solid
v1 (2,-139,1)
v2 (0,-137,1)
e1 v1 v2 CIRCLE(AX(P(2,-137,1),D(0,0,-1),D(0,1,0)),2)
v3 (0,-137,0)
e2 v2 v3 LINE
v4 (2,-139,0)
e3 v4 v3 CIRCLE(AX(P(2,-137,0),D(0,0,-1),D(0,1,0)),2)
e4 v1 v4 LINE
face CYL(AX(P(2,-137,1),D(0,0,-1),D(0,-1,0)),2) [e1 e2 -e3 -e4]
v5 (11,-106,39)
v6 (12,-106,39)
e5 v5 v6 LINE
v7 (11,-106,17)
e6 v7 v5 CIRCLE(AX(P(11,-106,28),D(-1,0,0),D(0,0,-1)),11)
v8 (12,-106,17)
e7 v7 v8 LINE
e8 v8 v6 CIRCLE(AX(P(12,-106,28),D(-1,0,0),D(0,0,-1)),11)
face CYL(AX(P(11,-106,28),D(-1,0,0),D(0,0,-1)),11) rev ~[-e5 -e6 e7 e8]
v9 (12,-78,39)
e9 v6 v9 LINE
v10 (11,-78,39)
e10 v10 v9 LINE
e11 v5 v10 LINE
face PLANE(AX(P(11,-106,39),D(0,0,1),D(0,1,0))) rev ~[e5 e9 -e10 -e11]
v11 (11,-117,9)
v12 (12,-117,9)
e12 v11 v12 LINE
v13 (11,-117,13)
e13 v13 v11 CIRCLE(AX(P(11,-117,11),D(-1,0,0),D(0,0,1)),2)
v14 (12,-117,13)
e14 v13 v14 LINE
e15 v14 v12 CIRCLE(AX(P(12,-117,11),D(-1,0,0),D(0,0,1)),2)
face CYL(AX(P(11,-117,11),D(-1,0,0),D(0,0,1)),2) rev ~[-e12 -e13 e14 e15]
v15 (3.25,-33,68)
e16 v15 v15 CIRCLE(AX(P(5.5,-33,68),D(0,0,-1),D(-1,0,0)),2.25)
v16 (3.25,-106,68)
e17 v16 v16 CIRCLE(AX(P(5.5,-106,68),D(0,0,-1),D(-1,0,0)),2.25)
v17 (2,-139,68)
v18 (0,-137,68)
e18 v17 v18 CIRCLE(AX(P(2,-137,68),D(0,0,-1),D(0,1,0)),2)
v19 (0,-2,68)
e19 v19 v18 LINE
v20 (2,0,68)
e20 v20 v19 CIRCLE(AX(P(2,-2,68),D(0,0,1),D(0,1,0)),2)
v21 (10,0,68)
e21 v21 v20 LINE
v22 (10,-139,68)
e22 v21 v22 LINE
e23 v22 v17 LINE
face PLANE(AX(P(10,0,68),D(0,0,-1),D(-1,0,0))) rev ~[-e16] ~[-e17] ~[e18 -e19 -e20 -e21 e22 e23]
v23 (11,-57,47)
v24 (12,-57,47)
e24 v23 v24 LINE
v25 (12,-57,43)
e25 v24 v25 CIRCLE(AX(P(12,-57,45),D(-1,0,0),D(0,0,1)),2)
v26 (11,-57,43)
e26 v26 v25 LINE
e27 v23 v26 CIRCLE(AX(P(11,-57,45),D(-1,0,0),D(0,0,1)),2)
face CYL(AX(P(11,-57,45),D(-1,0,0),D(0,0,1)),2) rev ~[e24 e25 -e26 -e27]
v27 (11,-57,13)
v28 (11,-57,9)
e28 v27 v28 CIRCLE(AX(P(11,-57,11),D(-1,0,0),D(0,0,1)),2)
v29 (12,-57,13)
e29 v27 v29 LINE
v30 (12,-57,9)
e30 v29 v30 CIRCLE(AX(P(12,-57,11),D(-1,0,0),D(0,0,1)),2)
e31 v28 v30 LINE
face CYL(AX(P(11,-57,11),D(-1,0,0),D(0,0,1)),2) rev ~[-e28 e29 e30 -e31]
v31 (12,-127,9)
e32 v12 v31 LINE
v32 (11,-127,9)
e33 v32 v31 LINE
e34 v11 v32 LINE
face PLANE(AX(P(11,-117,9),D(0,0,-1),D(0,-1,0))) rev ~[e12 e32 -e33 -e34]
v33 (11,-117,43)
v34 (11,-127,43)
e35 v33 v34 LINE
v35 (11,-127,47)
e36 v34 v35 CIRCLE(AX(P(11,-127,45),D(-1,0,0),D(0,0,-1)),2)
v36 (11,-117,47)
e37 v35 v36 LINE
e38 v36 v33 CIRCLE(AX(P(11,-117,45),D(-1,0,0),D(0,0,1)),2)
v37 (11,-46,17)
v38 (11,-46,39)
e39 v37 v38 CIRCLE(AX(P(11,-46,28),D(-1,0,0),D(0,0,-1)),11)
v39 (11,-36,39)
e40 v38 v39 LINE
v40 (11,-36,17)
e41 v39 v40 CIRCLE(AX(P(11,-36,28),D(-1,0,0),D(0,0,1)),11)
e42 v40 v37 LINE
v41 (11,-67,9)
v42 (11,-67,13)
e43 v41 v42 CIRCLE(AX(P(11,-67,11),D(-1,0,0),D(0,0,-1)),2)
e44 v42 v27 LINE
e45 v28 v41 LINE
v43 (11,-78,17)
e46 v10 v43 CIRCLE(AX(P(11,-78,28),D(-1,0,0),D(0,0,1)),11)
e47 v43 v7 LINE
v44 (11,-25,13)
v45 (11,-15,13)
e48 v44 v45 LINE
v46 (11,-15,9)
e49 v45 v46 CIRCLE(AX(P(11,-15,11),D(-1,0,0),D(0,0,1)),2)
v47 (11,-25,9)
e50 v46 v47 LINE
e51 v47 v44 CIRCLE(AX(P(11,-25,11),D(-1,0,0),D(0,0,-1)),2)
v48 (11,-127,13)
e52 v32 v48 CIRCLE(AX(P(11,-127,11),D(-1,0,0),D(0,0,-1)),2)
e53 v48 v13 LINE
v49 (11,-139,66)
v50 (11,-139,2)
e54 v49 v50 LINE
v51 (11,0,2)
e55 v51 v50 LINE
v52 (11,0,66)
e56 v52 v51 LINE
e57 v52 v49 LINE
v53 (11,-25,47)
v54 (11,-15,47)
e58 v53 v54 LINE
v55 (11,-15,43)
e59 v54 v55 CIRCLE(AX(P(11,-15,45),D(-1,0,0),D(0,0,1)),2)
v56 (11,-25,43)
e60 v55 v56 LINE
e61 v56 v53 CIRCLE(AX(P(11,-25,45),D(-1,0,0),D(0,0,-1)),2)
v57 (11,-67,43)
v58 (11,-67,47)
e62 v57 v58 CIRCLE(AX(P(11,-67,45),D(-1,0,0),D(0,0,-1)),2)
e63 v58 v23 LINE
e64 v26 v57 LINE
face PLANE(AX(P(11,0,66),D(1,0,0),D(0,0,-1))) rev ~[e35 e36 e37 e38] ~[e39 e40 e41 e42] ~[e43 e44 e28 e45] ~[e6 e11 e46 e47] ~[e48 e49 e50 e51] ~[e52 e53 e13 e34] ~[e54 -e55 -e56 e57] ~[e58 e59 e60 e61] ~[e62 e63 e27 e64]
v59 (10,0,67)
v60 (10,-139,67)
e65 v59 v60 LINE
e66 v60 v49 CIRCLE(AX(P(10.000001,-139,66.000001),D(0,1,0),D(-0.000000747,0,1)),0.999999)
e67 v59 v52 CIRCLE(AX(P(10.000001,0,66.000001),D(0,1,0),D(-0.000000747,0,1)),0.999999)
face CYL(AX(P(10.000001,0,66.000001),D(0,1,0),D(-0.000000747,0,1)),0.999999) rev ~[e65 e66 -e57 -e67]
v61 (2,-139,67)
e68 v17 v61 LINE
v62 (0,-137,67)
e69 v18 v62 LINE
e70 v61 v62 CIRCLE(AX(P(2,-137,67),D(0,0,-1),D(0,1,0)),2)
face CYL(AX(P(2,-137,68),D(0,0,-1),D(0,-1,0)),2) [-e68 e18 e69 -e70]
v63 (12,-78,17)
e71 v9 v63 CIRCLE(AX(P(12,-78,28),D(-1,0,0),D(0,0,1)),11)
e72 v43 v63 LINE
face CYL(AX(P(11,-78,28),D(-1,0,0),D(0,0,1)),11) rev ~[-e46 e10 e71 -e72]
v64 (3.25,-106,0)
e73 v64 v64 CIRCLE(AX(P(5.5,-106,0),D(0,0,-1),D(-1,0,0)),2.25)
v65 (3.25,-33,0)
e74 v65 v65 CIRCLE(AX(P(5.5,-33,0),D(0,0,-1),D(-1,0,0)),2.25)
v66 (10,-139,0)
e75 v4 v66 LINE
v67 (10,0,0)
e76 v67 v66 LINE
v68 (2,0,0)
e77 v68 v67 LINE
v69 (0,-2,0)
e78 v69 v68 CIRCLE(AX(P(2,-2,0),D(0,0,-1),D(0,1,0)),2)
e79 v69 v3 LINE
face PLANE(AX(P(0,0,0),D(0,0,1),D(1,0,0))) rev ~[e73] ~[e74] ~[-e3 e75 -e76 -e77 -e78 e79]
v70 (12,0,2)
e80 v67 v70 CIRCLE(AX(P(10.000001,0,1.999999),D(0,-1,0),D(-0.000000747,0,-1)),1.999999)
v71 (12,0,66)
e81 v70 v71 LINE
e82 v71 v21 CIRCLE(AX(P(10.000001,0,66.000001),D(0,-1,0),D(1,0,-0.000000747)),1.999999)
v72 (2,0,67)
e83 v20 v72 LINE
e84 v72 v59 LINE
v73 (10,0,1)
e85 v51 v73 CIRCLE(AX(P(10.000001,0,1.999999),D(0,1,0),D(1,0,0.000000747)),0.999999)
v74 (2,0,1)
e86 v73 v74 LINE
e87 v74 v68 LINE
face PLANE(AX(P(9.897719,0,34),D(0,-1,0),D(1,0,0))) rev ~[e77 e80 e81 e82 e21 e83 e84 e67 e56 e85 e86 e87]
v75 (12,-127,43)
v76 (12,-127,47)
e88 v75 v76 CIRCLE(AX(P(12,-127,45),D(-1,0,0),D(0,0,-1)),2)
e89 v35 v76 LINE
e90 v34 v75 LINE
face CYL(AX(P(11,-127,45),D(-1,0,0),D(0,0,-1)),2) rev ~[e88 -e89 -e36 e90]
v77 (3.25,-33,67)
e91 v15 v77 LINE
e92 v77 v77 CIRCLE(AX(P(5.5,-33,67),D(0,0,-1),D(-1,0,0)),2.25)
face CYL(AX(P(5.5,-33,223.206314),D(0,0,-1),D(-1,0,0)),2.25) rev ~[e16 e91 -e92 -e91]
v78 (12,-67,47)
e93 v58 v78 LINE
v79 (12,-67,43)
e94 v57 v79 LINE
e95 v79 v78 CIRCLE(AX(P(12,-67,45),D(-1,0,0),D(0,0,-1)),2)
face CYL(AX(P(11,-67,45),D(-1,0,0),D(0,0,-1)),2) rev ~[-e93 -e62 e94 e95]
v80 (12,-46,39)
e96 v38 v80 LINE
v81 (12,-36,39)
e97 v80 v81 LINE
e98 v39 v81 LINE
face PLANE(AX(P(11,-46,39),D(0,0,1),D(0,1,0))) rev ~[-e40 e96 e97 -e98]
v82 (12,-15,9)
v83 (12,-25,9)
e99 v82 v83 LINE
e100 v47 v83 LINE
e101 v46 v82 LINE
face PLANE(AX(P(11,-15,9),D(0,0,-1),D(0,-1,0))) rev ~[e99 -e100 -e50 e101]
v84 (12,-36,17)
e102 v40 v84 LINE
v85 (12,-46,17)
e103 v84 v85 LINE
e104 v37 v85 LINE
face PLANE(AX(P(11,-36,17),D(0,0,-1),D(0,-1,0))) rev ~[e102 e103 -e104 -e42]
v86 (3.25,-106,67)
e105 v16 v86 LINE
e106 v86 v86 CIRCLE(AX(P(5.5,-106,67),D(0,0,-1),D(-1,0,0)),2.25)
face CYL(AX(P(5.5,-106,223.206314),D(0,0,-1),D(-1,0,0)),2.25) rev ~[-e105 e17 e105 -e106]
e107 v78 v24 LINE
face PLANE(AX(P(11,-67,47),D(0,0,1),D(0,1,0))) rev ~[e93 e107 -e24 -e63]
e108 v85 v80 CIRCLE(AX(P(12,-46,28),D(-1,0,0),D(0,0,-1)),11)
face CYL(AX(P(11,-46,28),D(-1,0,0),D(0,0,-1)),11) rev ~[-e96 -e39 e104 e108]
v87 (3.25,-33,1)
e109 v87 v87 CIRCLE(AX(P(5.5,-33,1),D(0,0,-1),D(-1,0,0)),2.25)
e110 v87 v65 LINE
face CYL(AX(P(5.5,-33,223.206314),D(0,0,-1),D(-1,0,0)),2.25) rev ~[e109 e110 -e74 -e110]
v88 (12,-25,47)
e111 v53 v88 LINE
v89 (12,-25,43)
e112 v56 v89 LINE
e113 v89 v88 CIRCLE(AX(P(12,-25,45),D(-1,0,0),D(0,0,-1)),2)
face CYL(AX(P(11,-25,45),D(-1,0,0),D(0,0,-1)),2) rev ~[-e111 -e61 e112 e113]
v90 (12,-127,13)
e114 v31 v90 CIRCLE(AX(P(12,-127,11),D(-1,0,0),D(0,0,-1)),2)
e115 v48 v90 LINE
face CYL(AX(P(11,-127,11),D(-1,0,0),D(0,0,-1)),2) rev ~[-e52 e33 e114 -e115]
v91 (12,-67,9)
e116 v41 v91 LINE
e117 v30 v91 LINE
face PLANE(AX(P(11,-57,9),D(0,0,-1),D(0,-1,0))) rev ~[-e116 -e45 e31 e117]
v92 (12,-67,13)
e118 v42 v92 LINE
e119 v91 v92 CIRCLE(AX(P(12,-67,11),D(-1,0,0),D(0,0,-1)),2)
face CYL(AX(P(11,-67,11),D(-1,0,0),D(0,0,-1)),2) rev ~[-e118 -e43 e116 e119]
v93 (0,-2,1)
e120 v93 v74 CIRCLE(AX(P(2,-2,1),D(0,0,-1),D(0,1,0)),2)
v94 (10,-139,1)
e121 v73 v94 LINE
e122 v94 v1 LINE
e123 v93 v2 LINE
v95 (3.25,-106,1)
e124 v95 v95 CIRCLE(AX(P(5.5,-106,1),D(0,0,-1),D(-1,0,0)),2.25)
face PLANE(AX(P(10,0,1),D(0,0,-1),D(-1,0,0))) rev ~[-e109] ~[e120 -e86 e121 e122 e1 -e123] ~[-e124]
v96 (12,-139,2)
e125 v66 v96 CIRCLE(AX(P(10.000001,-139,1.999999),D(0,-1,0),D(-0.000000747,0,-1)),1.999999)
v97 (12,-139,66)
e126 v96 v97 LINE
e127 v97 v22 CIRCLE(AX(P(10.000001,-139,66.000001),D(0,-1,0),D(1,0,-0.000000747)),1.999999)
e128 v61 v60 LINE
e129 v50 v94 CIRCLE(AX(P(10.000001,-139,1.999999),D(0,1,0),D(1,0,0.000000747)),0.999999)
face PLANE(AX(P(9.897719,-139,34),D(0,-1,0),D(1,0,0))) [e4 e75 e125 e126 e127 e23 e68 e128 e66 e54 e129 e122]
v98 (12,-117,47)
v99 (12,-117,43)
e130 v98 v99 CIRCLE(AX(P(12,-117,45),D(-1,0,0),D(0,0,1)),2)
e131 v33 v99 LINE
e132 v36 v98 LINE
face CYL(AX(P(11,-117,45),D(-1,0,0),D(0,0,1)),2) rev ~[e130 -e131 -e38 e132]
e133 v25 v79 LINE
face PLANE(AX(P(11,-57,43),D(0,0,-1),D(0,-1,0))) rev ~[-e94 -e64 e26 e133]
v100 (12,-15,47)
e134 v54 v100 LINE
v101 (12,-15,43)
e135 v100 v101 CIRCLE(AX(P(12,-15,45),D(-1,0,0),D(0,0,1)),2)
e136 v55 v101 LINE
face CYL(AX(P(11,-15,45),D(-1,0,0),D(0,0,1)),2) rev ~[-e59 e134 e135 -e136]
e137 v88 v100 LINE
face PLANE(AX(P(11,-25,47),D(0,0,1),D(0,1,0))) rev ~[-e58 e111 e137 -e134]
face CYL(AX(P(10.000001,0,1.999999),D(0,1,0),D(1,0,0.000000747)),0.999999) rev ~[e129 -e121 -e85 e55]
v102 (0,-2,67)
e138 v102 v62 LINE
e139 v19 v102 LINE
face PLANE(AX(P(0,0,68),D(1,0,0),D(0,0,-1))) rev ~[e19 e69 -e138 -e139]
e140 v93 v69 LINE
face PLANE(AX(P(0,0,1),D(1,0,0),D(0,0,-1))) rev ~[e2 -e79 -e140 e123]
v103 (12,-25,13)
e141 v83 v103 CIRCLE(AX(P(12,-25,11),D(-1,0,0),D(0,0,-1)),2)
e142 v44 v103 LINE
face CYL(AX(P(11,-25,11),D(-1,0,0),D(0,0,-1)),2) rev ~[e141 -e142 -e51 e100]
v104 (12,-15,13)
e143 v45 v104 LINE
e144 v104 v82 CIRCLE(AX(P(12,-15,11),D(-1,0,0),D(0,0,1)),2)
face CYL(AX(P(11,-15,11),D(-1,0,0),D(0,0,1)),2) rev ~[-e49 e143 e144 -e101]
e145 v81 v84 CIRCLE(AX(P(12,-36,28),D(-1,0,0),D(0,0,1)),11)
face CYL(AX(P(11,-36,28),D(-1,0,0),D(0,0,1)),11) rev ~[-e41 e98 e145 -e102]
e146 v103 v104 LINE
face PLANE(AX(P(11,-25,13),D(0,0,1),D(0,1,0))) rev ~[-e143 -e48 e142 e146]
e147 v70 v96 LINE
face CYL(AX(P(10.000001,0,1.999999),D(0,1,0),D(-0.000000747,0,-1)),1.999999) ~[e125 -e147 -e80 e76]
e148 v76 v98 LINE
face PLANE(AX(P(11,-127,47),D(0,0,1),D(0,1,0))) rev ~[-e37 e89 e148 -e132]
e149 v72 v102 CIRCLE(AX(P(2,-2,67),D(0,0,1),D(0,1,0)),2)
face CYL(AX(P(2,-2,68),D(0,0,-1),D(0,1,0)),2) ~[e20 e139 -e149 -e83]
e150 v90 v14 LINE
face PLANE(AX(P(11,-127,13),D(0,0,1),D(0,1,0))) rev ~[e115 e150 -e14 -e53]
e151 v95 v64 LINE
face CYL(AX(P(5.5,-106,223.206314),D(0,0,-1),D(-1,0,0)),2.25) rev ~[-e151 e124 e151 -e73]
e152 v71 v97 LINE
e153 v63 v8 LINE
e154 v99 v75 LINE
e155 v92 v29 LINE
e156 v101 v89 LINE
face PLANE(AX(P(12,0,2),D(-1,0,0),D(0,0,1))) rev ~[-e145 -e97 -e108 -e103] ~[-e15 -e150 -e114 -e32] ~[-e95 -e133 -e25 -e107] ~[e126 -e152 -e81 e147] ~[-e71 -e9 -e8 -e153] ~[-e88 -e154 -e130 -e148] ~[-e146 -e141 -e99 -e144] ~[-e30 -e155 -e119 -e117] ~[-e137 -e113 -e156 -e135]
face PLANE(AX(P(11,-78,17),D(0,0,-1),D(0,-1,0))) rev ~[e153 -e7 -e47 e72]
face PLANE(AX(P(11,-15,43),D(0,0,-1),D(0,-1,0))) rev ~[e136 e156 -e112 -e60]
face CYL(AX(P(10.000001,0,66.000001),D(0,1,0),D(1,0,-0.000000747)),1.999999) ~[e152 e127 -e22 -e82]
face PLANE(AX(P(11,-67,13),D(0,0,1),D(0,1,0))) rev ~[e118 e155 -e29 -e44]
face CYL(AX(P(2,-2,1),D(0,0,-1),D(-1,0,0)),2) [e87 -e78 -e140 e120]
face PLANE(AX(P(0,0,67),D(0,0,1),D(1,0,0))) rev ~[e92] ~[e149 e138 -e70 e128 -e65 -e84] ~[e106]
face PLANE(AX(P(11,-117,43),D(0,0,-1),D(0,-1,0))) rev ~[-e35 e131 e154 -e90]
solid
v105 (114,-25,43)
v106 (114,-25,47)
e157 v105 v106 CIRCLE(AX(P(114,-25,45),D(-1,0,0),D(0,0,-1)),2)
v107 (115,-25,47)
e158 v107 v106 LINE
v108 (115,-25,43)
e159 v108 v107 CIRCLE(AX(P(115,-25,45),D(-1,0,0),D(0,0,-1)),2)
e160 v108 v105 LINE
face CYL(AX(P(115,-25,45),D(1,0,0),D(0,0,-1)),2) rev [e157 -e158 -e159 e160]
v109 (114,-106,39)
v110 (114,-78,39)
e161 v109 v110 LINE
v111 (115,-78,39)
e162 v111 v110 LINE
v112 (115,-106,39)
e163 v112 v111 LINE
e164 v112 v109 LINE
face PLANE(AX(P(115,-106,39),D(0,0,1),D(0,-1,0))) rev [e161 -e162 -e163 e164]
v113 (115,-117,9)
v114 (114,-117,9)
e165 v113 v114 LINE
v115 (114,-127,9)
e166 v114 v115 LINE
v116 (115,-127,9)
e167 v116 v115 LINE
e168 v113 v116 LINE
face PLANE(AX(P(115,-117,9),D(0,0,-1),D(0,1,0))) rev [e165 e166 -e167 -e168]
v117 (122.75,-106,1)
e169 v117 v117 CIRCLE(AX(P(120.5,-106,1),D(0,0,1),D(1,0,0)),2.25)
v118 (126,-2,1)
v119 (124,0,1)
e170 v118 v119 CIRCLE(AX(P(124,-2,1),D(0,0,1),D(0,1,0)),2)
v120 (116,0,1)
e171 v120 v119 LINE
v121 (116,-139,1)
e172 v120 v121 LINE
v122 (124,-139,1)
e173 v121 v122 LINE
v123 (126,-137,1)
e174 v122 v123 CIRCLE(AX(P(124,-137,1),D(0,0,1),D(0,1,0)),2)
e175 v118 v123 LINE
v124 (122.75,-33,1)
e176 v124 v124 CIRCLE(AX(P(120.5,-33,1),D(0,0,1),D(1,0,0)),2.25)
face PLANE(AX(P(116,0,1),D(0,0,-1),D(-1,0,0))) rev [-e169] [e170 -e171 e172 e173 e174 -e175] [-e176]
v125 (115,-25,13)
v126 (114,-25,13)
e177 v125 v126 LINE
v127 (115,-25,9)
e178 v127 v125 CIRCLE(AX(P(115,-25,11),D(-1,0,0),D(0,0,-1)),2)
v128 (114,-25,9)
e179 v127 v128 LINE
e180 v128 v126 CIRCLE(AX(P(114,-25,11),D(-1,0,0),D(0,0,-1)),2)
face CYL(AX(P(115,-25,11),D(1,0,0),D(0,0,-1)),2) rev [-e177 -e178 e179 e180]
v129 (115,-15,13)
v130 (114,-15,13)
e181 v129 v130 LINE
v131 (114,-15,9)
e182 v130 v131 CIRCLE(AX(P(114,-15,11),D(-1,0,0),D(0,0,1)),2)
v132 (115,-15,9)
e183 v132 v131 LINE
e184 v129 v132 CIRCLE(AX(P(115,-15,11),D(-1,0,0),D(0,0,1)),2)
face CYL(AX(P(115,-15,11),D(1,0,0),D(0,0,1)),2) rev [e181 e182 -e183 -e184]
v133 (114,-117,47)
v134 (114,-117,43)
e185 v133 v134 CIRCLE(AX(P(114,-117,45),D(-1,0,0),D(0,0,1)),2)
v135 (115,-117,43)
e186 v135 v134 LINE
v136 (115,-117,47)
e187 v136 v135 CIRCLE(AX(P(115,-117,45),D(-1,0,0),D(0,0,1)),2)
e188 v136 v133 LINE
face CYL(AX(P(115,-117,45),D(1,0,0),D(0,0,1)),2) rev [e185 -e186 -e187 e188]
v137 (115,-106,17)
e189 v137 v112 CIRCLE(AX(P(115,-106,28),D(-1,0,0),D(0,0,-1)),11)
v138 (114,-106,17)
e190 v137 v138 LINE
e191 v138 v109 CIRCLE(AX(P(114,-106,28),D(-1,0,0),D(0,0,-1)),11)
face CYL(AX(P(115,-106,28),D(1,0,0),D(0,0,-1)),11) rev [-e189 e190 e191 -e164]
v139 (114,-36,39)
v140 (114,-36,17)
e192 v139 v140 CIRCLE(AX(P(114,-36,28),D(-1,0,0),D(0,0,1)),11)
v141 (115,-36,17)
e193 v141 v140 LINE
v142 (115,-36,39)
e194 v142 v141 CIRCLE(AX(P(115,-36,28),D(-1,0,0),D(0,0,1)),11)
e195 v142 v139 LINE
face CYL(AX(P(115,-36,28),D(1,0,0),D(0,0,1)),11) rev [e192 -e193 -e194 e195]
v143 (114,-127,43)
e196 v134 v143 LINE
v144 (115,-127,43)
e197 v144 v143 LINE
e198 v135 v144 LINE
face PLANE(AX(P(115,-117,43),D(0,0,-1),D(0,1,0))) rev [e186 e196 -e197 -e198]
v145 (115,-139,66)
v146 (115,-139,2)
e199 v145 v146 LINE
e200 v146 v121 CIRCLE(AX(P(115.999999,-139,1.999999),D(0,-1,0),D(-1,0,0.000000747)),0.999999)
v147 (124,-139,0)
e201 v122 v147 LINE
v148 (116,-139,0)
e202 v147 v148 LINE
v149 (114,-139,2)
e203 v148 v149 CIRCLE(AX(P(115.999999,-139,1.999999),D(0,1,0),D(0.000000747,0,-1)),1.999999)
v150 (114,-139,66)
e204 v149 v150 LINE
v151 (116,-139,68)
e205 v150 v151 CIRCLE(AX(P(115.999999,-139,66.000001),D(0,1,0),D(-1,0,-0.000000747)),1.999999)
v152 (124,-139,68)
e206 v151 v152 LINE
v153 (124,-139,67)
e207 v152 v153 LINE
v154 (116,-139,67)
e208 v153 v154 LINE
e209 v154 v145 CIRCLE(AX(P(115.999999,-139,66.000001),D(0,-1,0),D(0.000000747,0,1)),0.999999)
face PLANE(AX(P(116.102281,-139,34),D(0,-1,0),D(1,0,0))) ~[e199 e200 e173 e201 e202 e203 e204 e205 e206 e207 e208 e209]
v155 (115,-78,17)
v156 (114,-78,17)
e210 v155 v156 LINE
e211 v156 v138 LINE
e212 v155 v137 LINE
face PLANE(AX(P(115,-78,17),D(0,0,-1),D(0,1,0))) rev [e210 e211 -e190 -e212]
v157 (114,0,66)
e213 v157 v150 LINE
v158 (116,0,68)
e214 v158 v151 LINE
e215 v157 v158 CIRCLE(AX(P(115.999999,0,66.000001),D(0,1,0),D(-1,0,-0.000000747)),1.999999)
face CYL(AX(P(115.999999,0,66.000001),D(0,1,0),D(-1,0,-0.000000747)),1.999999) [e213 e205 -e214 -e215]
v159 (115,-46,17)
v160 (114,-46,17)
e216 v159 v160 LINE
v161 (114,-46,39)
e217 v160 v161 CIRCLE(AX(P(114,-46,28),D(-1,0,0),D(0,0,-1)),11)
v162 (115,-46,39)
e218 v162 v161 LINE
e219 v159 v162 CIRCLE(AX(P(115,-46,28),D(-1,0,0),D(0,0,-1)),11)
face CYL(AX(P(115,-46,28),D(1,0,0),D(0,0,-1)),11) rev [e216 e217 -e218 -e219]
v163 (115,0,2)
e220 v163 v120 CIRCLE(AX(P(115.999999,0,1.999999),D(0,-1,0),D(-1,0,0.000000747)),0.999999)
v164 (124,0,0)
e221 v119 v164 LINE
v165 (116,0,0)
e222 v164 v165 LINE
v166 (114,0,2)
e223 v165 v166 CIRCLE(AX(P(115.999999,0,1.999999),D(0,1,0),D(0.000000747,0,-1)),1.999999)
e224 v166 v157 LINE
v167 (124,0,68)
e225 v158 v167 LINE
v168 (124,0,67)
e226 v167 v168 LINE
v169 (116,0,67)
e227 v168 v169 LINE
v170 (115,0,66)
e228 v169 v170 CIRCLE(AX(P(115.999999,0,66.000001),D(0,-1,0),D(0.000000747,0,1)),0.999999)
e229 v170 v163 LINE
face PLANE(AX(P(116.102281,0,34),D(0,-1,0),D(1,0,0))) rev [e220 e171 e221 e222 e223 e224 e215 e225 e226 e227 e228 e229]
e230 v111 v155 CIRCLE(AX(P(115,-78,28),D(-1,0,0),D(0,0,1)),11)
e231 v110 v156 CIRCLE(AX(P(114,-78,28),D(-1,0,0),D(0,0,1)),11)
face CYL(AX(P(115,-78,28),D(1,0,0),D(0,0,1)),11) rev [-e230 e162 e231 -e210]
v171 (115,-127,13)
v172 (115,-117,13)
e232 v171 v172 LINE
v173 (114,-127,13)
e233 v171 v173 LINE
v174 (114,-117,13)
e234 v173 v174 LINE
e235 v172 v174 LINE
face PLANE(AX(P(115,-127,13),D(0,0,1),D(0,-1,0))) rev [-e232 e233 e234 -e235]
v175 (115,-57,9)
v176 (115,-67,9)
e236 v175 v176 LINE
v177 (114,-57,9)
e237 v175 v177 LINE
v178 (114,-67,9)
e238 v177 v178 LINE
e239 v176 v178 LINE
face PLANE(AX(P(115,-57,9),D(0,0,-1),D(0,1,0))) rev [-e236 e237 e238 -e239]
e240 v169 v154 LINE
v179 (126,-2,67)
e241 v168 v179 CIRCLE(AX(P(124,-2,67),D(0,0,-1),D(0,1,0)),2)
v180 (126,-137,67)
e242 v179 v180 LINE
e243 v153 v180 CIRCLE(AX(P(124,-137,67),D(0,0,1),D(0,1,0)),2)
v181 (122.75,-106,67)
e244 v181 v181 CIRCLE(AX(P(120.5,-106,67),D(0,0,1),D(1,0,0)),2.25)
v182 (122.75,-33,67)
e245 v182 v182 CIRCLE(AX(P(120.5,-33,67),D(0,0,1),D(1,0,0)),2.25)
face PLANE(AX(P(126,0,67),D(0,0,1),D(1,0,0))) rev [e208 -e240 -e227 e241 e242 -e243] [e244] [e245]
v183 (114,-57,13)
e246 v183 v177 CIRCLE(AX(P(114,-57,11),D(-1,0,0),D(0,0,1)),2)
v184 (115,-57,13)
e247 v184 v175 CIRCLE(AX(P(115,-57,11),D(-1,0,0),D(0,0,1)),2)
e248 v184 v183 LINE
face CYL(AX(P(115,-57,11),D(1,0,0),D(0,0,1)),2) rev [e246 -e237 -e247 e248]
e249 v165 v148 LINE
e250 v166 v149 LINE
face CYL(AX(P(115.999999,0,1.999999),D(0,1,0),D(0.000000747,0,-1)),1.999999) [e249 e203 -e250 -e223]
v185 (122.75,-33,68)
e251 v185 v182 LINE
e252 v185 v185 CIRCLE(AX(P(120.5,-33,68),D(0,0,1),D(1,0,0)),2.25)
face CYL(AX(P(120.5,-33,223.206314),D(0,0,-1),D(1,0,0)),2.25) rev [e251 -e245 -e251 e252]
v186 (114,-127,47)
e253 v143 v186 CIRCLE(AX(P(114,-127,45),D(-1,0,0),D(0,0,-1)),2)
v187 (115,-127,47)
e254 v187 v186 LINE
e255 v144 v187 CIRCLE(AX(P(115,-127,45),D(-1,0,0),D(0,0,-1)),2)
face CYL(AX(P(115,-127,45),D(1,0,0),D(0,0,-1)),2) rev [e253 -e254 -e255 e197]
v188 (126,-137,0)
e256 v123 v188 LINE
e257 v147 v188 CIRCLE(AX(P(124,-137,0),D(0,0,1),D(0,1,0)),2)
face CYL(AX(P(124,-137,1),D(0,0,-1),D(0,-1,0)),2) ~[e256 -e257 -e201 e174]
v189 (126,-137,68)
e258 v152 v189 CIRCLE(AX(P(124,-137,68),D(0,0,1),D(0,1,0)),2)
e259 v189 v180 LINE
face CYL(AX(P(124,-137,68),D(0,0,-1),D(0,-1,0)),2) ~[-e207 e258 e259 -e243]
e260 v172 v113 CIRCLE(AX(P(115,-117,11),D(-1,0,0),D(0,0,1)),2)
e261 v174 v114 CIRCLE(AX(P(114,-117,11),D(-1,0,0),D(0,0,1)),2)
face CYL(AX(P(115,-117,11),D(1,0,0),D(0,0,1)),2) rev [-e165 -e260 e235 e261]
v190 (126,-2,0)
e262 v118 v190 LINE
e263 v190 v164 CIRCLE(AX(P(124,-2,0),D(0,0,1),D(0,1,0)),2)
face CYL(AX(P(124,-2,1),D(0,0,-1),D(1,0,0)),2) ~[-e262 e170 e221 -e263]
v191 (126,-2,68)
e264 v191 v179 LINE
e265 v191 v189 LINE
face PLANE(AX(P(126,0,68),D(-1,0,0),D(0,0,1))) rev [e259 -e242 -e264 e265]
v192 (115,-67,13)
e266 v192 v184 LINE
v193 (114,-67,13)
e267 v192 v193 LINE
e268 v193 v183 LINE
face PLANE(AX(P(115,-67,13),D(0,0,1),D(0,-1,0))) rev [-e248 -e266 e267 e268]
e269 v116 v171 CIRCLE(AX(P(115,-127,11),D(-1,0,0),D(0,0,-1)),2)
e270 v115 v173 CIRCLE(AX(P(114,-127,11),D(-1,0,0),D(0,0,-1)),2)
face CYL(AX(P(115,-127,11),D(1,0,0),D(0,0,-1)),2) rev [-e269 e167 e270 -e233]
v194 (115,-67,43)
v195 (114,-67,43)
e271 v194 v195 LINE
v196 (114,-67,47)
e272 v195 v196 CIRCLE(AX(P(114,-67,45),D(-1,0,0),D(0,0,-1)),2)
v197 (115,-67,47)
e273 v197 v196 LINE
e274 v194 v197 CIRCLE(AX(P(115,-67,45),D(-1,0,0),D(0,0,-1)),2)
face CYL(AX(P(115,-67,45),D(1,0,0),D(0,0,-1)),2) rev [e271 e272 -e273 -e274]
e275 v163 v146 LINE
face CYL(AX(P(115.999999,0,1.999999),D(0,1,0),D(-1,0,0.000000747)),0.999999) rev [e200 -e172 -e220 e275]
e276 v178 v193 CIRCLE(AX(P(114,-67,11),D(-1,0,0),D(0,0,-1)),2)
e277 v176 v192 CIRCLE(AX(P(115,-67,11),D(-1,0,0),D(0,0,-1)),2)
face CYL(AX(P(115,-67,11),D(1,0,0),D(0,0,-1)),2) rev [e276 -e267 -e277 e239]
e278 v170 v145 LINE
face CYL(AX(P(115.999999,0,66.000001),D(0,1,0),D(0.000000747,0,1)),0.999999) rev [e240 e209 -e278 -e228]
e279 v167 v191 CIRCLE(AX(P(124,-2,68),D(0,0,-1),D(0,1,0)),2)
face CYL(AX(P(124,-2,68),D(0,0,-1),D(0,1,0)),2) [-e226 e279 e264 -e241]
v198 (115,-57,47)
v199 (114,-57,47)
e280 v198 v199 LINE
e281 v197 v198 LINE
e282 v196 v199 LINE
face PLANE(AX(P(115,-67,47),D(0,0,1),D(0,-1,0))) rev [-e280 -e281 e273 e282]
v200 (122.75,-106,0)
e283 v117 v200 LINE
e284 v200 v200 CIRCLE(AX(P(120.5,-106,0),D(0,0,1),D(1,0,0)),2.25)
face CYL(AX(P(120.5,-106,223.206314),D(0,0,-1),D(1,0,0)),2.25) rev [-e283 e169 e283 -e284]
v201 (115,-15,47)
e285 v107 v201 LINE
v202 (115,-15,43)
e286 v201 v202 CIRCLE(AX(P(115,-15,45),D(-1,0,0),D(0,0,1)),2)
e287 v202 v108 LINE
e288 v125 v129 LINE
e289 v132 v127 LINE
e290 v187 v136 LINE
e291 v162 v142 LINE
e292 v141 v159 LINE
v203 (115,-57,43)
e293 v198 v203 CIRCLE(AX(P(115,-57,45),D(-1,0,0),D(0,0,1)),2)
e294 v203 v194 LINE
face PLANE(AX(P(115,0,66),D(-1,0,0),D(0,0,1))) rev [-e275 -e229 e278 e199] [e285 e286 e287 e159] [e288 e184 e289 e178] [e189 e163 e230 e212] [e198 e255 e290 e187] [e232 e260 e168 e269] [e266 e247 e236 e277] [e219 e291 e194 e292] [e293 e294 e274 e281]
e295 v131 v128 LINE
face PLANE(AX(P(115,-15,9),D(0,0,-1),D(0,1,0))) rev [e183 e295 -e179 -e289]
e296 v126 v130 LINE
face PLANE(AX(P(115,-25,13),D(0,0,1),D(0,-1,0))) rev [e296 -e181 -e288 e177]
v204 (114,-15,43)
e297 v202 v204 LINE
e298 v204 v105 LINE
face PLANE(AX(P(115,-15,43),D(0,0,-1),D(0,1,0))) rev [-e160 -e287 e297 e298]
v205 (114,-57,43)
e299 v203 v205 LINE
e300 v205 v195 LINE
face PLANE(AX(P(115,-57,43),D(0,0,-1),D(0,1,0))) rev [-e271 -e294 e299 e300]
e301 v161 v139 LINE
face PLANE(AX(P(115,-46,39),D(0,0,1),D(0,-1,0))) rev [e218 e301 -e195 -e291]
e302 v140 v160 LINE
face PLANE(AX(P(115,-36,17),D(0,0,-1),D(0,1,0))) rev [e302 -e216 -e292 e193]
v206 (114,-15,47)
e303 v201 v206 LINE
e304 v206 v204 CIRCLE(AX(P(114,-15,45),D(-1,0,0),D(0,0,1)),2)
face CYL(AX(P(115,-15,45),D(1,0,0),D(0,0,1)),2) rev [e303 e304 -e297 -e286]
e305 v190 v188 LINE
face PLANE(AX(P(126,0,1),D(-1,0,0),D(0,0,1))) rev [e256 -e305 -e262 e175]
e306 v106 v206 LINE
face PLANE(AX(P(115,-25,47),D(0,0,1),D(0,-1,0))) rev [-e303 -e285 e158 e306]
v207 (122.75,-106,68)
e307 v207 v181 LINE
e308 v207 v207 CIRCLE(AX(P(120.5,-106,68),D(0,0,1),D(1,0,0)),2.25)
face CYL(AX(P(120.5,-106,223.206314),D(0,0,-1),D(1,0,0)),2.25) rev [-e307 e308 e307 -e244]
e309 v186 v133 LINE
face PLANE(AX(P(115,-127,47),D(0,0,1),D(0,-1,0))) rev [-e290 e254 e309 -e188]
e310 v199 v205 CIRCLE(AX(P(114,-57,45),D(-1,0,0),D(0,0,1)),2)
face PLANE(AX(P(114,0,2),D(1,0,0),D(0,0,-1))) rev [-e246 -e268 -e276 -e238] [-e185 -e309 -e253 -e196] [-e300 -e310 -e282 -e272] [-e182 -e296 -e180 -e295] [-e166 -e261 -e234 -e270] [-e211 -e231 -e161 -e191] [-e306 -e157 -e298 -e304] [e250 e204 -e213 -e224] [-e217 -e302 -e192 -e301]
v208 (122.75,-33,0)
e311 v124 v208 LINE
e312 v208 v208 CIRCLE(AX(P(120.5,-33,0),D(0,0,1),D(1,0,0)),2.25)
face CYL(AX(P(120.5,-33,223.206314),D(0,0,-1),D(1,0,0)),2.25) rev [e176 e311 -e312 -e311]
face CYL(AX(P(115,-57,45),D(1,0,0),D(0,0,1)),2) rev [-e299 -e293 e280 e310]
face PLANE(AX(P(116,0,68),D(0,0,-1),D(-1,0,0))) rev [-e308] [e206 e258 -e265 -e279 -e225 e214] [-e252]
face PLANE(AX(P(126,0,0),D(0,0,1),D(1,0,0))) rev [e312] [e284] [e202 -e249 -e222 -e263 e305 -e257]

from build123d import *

# Parameters (mm, degrees)
F1_DEPTH  = 139
F3_D      = 4.5
F5_DEPTH  = 25
F6_R      = 2
F7_R      = 2
F8_R      = 2
F9_R      = 2
F11_DEPTH = 25


with BuildPart() as f1:
    # F0 (on Front) → F1 (new body)
    with BuildSketch(Plane.XZ):
        with BuildLine():
            Line((0, 1), (0, 0))
            Line((0, 0), (10, 0))
            ThreePointArc((10, 0), (11.414214, 0.585786), (12, 2))
            Line((12, 2), (12, 66))
            ThreePointArc((12, 66), (11.414214, 67.414214), (10, 68))
            Line((10, 68), (0, 68))
            Line((0, 68), (0, 67))
            Line((0, 67), (10, 67))
            ThreePointArc((10, 67), (10.707107, 66.707107), (11, 66))
            Line((11, 66), (11, 2))
            ThreePointArc((11, 2), (10.707107, 1.292893), (10, 1))
            Line((10, 1), (0, 1))
        make_face()
    extrude(amount=F1_DEPTH)

    # F3 (through all)
    with Locations(Plane.XY.offset(68)):
        with Locations((5.5, -106), (5.5, -33)):
            Hole(F3_D / 2)

    # F4 (on face) → F5 (cut)
    with BuildSketch(Plane(origin=(11, 0, 0), x_dir=(0, -1, 0), z_dir=(-1, 0, 0))):
        with BuildLine():
            Line((25, 13), (15, 13))
            ThreePointArc((15, 13), (13, 11), (15, 9))
            Line((15, 9), (25, 9))
            ThreePointArc((25, 9), (27, 11), (25, 13))
        make_face()
        with BuildLine():
            Line((25, 47), (15, 47))
            ThreePointArc((15, 47), (13, 45), (15, 43))
            Line((15, 43), (25, 43))
            ThreePointArc((25, 43), (27, 45), (25, 47))
        make_face()
        with BuildLine():
            Line((67, 13), (57, 13))
            ThreePointArc((57, 13), (55, 11), (57, 9))
            Line((57, 9), (67, 9))
            ThreePointArc((67, 9), (69, 11), (67, 13))
        make_face()
        with BuildLine():
            Line((67, 47), (57, 47))
            ThreePointArc((57, 47), (55, 45), (57, 43))
            Line((57, 43), (67, 43))
            ThreePointArc((67, 43), (69, 45), (67, 47))
        make_face()
        with BuildLine():
            Line((127, 13), (117, 13))
            ThreePointArc((117, 13), (115, 11), (117, 9))
            Line((117, 9), (127, 9))
            ThreePointArc((127, 9), (129, 11), (127, 13))
        make_face()
        with BuildLine():
            Line((127, 47), (117, 47))
            ThreePointArc((117, 47), (115, 45), (117, 43))
            Line((117, 43), (127, 43))
            ThreePointArc((127, 43), (129, 45), (127, 47))
        make_face()
    extrude(amount=-F5_DEPTH, mode=Mode.SUBTRACT)

    # F6
    f6_edges = [f1.edges().sort_by_distance(p)[0] for p in [
        (0, -139, 67.5),
    ]]
    fillet(f6_edges, radius=F6_R)

    # F7
    f7_edges = [f1.edges().sort_by_distance(p)[0] for p in [
        (0, -139, 0.5),
    ]]
    fillet(f7_edges, radius=F7_R)

    # F8
    f8_edges = [f1.edges().sort_by_distance(p)[0] for p in [
        (0, 0, 0.5),
    ]]
    fillet(f8_edges, radius=F8_R)

    # F9
    f9_edges = [f1.edges().sort_by_distance(p)[0] for p in [
        (0, 0, 67.5),
    ]]
    fillet(f9_edges, radius=F9_R)

    # F10 (on face) → F11 (cut)
    with BuildSketch(Plane(origin=(11, 0, 0), x_dir=(0, -1, 0), z_dir=(-1, 0, 0))):
        with BuildLine():
            Line((46, 39), (36, 39))
            ThreePointArc((36, 39), (25, 28), (36, 17))
            Line((36, 17), (46, 17))
            ThreePointArc((46, 17), (57, 28), (46, 39))
        make_face()
        with BuildLine():
            Line((106, 39), (78, 39))
            ThreePointArc((78, 39), (67, 28), (78, 17))
            Line((78, 17), (106, 17))
            ThreePointArc((106, 17), (117, 28), (106, 39))
        make_face()
    extrude(amount=-F11_DEPTH, mode=Mode.SUBTRACT)


with BuildPart() as f13_1:
    # F13: instance of F1
    add(f1.part.mirror(Plane.YZ.offset(63)))


solid = Compound([f1.part, f13_1.part])
